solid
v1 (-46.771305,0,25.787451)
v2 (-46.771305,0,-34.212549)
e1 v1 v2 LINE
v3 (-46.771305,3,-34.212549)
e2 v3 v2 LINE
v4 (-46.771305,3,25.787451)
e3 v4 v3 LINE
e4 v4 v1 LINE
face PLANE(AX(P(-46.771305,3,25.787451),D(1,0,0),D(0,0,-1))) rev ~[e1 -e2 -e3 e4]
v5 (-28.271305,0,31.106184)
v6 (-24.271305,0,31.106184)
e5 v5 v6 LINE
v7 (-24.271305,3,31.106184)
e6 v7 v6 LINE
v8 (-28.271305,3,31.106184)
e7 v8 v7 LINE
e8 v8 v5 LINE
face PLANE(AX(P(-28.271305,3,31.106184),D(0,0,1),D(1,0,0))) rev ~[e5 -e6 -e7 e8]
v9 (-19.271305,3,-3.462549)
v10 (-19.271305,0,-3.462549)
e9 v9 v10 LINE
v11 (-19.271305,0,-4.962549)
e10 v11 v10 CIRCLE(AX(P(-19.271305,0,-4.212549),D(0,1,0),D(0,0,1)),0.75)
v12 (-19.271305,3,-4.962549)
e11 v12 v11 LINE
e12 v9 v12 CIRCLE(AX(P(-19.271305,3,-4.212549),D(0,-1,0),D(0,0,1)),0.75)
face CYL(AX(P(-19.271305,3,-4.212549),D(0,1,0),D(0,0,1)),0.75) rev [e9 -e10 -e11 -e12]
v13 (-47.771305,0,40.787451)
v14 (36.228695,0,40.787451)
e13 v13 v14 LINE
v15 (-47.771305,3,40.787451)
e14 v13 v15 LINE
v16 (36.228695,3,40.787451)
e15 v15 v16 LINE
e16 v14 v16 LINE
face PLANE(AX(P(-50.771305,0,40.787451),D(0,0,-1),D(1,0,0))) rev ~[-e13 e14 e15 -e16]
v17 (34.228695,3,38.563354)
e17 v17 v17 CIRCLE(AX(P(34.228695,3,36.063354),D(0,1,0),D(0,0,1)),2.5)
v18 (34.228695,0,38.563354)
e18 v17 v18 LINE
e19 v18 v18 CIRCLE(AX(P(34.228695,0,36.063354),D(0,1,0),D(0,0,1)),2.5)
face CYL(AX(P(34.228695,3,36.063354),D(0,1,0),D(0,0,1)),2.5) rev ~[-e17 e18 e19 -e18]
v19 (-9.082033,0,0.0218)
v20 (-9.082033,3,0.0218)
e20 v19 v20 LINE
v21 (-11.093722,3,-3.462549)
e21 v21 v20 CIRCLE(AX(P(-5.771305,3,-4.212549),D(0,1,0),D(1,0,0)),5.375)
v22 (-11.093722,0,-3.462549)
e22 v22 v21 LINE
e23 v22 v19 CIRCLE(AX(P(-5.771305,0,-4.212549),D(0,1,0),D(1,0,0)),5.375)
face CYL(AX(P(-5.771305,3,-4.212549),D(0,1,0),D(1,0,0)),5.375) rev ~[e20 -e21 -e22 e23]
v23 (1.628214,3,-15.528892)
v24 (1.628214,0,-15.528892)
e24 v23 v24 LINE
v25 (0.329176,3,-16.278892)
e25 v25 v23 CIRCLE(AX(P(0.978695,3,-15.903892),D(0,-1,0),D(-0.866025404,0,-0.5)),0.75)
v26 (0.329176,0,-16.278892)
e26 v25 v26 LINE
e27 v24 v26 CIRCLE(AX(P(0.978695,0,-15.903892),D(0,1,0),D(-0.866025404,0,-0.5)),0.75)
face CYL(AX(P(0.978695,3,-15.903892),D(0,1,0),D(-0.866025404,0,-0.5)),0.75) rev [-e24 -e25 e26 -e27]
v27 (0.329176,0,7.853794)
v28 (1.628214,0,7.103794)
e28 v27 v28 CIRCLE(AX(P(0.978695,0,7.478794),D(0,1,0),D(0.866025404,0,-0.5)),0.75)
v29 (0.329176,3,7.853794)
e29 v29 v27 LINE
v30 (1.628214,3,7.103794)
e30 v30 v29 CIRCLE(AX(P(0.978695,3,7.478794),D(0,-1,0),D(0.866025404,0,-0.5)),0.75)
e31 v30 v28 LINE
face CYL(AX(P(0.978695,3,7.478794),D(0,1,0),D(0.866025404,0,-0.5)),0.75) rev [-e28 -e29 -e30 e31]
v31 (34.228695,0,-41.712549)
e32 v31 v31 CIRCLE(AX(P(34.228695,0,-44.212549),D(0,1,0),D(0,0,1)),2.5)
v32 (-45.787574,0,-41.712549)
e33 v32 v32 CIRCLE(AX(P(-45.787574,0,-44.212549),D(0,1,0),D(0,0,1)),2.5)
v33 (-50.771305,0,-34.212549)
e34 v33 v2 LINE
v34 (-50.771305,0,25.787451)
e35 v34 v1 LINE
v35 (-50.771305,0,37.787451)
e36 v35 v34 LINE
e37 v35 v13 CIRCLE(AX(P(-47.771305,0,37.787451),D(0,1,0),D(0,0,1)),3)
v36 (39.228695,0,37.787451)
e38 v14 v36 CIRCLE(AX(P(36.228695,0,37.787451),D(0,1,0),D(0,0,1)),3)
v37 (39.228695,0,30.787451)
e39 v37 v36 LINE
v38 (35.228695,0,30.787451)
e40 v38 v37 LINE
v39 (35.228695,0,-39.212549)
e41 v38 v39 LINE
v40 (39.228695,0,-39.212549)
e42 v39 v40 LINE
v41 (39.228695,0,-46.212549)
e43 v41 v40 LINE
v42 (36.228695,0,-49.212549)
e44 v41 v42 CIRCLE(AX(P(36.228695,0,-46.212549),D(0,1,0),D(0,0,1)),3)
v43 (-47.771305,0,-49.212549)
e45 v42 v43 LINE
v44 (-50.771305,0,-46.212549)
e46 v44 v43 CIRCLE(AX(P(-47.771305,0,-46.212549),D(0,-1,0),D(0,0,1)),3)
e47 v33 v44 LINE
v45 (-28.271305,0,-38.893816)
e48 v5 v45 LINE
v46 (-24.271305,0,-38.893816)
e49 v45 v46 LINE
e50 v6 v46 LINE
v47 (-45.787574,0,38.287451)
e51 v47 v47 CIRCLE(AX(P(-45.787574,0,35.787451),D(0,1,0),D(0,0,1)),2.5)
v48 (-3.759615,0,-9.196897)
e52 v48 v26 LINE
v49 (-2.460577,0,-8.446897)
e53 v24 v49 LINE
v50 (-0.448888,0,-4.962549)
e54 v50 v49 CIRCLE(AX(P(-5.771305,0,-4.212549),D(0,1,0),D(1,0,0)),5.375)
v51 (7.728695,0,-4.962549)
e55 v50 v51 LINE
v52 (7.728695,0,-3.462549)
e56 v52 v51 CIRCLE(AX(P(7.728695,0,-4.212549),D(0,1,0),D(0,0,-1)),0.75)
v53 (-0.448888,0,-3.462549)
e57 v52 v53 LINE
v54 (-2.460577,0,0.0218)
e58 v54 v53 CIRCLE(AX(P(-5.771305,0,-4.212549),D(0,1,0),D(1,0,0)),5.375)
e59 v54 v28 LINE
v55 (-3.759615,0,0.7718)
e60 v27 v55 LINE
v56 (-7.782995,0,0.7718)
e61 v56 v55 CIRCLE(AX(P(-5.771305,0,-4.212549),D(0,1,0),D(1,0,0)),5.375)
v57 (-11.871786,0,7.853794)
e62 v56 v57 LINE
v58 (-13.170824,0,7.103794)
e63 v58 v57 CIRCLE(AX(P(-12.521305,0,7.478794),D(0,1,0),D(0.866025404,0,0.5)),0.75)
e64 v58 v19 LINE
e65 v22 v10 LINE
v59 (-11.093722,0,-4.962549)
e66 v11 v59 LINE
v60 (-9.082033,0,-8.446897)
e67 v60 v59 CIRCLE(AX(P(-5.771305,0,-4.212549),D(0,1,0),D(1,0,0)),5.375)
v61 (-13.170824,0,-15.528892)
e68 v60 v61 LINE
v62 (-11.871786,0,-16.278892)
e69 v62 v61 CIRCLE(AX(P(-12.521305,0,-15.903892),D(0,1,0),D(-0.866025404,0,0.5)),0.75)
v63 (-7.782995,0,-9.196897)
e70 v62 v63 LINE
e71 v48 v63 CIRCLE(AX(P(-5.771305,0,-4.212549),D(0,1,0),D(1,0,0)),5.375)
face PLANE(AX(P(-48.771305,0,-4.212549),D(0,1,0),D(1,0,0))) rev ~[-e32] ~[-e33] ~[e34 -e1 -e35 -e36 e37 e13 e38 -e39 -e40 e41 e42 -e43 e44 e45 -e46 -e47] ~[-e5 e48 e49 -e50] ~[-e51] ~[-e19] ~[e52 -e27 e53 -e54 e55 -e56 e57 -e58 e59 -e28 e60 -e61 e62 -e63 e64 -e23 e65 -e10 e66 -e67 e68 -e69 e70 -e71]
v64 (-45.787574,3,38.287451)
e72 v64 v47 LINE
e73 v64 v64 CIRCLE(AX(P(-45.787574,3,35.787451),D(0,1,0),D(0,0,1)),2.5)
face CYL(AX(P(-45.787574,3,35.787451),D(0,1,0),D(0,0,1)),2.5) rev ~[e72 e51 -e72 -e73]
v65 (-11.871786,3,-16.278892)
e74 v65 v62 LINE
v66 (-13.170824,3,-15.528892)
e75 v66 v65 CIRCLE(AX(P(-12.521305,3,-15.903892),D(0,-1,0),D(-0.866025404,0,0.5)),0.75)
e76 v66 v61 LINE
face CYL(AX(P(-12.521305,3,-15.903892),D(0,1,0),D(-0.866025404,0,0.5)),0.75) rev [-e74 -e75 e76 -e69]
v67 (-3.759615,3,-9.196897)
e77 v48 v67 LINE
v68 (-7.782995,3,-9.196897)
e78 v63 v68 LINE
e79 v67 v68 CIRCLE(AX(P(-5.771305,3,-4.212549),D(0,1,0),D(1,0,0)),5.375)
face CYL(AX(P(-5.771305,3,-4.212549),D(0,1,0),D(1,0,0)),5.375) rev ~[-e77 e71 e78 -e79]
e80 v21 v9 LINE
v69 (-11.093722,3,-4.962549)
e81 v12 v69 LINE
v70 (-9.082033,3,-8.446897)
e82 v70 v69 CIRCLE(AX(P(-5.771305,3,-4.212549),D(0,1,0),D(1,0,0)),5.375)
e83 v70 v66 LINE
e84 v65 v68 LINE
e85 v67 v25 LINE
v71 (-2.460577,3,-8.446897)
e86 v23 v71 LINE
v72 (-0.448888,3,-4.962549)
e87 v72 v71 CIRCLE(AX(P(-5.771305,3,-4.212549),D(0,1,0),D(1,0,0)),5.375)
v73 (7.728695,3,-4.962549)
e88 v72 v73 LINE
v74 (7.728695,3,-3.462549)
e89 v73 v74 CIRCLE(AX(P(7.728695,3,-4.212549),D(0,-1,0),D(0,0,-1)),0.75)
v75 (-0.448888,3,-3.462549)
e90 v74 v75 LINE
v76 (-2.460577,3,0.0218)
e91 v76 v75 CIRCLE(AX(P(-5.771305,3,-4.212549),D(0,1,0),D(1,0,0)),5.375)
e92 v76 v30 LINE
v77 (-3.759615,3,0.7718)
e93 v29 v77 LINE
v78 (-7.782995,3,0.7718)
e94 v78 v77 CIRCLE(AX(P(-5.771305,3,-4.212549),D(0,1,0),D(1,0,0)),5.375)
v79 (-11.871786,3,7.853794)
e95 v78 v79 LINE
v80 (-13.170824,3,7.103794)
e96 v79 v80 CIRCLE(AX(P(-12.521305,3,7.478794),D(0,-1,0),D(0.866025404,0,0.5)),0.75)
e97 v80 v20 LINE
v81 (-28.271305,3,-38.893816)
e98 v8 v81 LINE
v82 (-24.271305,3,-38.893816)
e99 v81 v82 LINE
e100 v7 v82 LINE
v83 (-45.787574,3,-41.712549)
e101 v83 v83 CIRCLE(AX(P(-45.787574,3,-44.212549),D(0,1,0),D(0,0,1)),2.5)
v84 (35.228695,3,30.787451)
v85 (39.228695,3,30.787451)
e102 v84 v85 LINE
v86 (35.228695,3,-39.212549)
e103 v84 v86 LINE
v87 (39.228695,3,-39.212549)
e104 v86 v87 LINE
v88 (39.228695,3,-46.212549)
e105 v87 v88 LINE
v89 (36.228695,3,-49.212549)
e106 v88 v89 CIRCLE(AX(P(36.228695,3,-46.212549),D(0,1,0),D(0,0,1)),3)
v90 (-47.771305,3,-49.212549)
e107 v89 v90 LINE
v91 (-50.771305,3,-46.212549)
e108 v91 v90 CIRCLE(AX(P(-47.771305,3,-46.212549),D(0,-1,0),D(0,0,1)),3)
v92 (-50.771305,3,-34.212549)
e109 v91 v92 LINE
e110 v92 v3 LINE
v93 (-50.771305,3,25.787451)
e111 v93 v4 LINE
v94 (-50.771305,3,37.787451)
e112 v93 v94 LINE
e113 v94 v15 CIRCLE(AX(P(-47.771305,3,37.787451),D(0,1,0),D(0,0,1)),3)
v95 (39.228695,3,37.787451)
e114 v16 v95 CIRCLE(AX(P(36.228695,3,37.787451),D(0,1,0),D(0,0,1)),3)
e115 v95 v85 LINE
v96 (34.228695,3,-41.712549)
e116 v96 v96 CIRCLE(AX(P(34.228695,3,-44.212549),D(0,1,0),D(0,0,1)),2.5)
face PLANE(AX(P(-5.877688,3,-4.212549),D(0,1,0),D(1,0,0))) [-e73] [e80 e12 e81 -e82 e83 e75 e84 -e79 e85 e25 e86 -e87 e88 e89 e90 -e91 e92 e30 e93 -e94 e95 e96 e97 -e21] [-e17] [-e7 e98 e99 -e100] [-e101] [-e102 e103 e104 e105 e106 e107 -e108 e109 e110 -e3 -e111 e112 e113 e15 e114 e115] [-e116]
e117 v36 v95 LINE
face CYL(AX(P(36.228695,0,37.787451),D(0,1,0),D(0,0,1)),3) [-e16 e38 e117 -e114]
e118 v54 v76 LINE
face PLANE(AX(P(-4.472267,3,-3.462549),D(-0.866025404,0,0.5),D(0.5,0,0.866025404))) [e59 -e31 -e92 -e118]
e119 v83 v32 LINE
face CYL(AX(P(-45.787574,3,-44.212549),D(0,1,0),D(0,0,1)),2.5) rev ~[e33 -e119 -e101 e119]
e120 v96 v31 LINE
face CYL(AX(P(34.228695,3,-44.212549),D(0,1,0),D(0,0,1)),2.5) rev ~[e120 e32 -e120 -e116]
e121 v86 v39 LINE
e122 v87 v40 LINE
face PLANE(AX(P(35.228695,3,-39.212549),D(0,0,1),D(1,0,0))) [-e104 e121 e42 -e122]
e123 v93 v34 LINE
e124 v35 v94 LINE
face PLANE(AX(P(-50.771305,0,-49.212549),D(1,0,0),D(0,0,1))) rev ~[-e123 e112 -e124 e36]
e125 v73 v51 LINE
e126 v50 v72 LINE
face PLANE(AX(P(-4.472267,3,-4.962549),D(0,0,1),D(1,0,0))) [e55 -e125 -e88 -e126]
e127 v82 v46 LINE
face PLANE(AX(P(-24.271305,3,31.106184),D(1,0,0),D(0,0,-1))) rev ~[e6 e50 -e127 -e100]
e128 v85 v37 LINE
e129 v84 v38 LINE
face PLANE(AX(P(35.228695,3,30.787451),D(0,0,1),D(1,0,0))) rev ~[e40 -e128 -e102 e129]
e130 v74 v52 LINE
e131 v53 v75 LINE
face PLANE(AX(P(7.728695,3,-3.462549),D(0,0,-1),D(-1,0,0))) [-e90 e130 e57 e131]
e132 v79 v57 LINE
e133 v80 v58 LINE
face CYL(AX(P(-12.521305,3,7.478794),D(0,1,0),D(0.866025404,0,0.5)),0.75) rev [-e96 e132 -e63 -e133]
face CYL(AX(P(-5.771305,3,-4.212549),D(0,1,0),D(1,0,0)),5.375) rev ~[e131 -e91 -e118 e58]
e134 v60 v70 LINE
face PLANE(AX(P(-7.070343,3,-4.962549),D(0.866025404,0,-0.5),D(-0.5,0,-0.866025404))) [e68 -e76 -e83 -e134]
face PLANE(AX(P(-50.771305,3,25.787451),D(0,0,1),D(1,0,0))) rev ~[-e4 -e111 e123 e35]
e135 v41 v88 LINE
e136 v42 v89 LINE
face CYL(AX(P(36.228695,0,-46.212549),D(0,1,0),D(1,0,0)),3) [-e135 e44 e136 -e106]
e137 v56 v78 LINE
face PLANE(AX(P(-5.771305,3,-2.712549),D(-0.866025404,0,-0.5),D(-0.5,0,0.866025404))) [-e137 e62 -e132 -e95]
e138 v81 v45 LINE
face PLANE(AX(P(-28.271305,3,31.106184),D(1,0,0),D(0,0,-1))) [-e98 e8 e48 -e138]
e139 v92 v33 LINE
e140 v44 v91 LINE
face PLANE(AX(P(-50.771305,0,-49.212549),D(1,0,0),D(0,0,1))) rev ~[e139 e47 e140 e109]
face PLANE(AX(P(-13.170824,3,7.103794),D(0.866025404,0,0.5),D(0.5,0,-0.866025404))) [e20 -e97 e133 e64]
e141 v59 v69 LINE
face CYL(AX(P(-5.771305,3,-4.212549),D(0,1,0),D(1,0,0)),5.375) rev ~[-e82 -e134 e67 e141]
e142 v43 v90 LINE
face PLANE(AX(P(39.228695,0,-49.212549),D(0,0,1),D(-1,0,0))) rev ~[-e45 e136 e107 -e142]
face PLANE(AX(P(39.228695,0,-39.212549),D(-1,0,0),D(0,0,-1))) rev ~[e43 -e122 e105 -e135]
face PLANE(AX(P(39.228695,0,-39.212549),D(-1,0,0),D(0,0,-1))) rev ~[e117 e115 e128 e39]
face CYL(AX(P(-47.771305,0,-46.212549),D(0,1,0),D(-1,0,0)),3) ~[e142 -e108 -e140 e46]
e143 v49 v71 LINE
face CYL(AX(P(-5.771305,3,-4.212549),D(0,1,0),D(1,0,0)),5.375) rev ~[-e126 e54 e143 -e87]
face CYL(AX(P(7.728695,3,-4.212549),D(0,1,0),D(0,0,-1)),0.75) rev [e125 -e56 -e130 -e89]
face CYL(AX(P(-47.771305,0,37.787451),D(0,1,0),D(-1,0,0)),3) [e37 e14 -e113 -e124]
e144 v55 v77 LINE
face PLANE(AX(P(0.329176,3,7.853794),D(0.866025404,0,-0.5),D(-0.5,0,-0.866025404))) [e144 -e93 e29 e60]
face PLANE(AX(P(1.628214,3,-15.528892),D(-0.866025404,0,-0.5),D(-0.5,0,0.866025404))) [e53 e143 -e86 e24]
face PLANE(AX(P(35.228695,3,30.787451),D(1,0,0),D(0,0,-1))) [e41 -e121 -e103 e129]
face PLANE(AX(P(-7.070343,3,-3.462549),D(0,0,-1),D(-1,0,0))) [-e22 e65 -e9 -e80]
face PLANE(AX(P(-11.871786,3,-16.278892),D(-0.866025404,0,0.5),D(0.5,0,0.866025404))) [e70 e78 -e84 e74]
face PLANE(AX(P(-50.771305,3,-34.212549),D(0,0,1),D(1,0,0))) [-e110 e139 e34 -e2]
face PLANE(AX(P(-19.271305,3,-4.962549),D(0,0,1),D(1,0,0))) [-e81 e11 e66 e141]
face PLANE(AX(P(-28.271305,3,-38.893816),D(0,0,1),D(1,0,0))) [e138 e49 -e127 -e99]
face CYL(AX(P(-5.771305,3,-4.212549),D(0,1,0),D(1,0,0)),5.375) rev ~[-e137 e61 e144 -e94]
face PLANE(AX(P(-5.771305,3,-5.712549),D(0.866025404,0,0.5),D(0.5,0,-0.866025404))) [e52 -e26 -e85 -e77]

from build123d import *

# Parameters (mm, degrees)
SKETCH1_W           = 4
SKETCH1_H           = 70
SKETCH1_H_2         = 60
BOSS_EXTRUDE1_DEPTH = 3
SKETCH1_3_W         = 4
SKETCH1_3_H         = 60
SKETCH1_3_H_2       = 70
BOSS_EXTRUDE2_DEPTH = 70
SKETCH1_4_W         = 4
SKETCH1_4_H         = 70
BOSS_EXTRUDE3_DEPTH = 70
SKETCH5_R           = 4
CUT_EXTRUDE4_DEPTH  = 10
SKETCH6_R           = 2.5
CUT_EXTRUDE5_DEPTH  = 10
SKETCH1_5_W         = 4
SKETCH1_5_H         = 60
BOSS_EXTRUDE4_DEPTH = 80
SKETCH5_2_R         = 4
CUT_EXTRUDE6_DEPTH  = 10
FILLET1_R           = 3
FILLET2_R           = 5
FILLET3_R           = 4
SKETCH7_R           = 2.5
CUT_EXTRUDE7_DEPTH  = 10
SKETCH8_R           = 2.5
CUT_EXTRUDE8_DEPTH  = 10
CUT_EXTRUDE9_REACH  = 132.084
SKETCH9_R           = 3.5
SKETCH26_R          = 2.5
CUT_EXTRUDE11_DEPTH = 10
CUT_EXTRUDE14_DEPTH = 10
CUT_EXTRUDE15_DEPTH = 10
SKETCH28_R          = 1
SKETCH28_R_2        = 4
CUT_EXTRUDE16_DEPTH = 4
SKETCH29_R          = 1
SKETCH29_R_2        = 3.5
CUT_EXTRUDE18_DEPTH = 4
SKETCH31_R          = 5.375
CUT_EXTRUDE19_DEPTH = 10
SKETCH32_W          = 71.641660037
SKETCH32_H          = 79.51751689
CUT_EXTRUDE20_DEPTH = 131.084107183
SKETCH33_W          = 4
SKETCH33_H          = 70
SKETCH33_H_2        = 60
CUT_EXTRUDE21_DEPTH = 71.771465692


with BuildPart() as part:
    # Sketch1 → Boss-Extrude1 (new body)
    # profile 1 of 4: a face of its own
    with BuildSketch(Plane(origin=(0, 0, 0), x_dir=(1, 0, 0), z_dir=(0, 1, 0))):
        Polygon((-50.771305032, 49.212548619), (-50.771305032, 34.212548619), (-46.771305032, 34.212548619), (-46.771305032, -25.787451381), (-50.771305032, -25.787451381), (-50.771305032, -40.787451381), (39.228694968, -40.787451381), (39.228694968, -30.787451381), (35.228694968, -30.787451381), (35.228694968, 39.212548619), (39.228694968, 39.212548619), (39.228694968, 49.212548619), align=None)
        with Locations((-26.271305032, 3.893815937)):
            Rectangle(SKETCH1_W, SKETCH1_H, mode=Mode.SUBTRACT)
    # profile 2 of 4: a face of its own
    with BuildSketch(Plane(origin=(0, 0, 0), x_dir=(1, 0, 0), z_dir=(0, 1, 0))):
        with Locations((37.228694968, 4.212548619)):
            Rectangle(SKETCH1_W, SKETCH1_H)
    # profile 3 of 4: a face of its own
    with BuildSketch(Plane(origin=(0, 0, 0), x_dir=(1, 0, 0), z_dir=(0, 1, 0))):
        with Locations((-48.771305032, 4.212548619)):
            Rectangle(SKETCH1_W, SKETCH1_H_2)
    # profile 4 of 4: a face of its own
    with BuildSketch(Plane(origin=(0, 0, 0), x_dir=(1, 0, 0), z_dir=(0, 1, 0))):
        with Locations((-26.271305032, 3.893815937)):
            Rectangle(SKETCH1_W, SKETCH1_H)
    extrude(amount=BOSS_EXTRUDE1_DEPTH)

    # Sketch1<3> → Boss-Extrude2 (add)
    with BuildSketch(Plane(origin=(0, 0, 0), x_dir=(1, 0, 0), z_dir=(0, 1, 0))):
        with Locations((-48.771305032, 4.212548619)):
            Rectangle(SKETCH1_3_W, SKETCH1_3_H)
        with Locations((37.228694968, 4.212548619)):
            Rectangle(SKETCH1_3_W, SKETCH1_3_H_2)
    extrude(amount=BOSS_EXTRUDE2_DEPTH)

    # Sketch1<4> → Boss-Extrude3 (add)
    with BuildSketch(Plane(origin=(0, 0, 0), x_dir=(1, 0, 0), z_dir=(0, 1, 0))):
        with Locations((-26.271305032, 3.893815937)):
            Rectangle(SKETCH1_4_W, SKETCH1_4_H)
    extrude(amount=BOSS_EXTRUDE3_DEPTH)

    # Sketch5 → Cut-Extrude4 (cut)
    with BuildSketch(Plane.ZY.offset(50.771305032)):
        with Locations((-8.022548619, 60)):
            Circle(SKETCH5_R)
    extrude(amount=-CUT_EXTRUDE4_DEPTH, mode=Mode.SUBTRACT)

    # Sketch6 → Cut-Extrude5 (cut)
    with BuildSketch(Plane(origin=(0, 3, 0), x_dir=(1, 0, 0), z_dir=(0, 1, 0))):
        with Locations(Location((-45.787574368, -35.787451381, 0), (0, 0, 270))):
            Circle(SKETCH6_R)
        with Locations(Location((-45.787574368, 44.212548619, 0), (0, 0, 270))):
            Circle(SKETCH6_R)
        with Locations((43.718511914, 44.212548619)):
            Circle(SKETCH6_R)
        with Locations((43.718511914, -35.787451381)):
            Circle(SKETCH6_R)
    extrude(amount=-CUT_EXTRUDE5_DEPTH, mode=Mode.SUBTRACT)

    # Sketch1<5> → Boss-Extrude4 (add)
    with BuildSketch(Plane(origin=(0, 0, 0), x_dir=(1, 0, 0), z_dir=(0, 1, 0))):
        with Locations((-48.771305032, 4.212548619)):
            Rectangle(SKETCH1_5_W, SKETCH1_5_H)
    extrude(amount=BOSS_EXTRUDE4_DEPTH)

    # Sketch5<2> → Cut-Extrude6 (cut)
    with BuildSketch(Plane.ZY.offset(50.771305032)):
        with Locations((-8.022548619, 60)):
            Circle(SKETCH5_2_R)
    extrude(amount=-CUT_EXTRUDE6_DEPTH, mode=Mode.SUBTRACT)

    # Fillet1
    fillet1_edges = [part.edges().sort_by_distance(p)[0] for p in [
        (-50.771305032, 1.5, 40.787451381),
        (-50.771305032, 1.5, -49.212548619),
        (39.228694968, 1.5, -49.212548619),
        (39.228694968, 1.5, 40.787451381),
    ]]
    fillet(fillet1_edges, radius=FILLET1_R)

    # Fillet2
    fillet2_edges = [part.edges().sort_by_distance(p)[0] for p in [
        (-48.771305032, 80, -34.212548619),
        (-48.771305032, 80, 25.787451381),
        (37.228694968, 70, -39.212548619),
        (37.228694968, 70, 30.787451381),
    ]]
    fillet(fillet2_edges, radius=FILLET2_R)

    # Fillet3
    fillet3_edges = [part.edges().sort_by_distance(p)[0] for p in [
        (-26.271305032, 70, 31.106184063),
        (-26.271305032, 70, -38.893815937),
    ]]
    fillet(fillet3_edges, radius=FILLET3_R)

    # Sketch7 → Cut-Extrude7 (cut)
    with BuildSketch(Plane(origin=(39.228694968, 0, 0), x_dir=(0, 0, -1), z_dir=(1, 0, 0))):
        with Locations((27.482306935, -10)):
            Circle(SKETCH7_R)
    extrude(amount=-CUT_EXTRUDE7_DEPTH, mode=Mode.SUBTRACT)

    # Sketch8 → Cut-Extrude8 (cut)
    with BuildSketch(Plane(origin=(39.228694968, 0, 0), x_dir=(0, 0, -1), z_dir=(1, 0, 0))):
        with Locations((8.02072759, 38.893893193)):
            Circle(SKETCH8_R)
    extrude(amount=-CUT_EXTRUDE8_DEPTH, mode=Mode.SUBTRACT)

    # Cut-Extrude9: up to this face of the body (flat: up to its plane)
    cut_extrude9_end = Plane(part.part.faces().sort_by_distance((-28.271305032, 36.452186393, -3.893815937))[0])
    # Sketch9 → Cut-Extrude9 (cut, up to the picked face)
    with BuildSketch(Plane(origin=(39.228694968, 0, 0), x_dir=(0, 0, -1), z_dir=(1, 0, 0)), mode=Mode.PRIVATE) as cut_extrude9_sk1:
        with Locations((8.02072759, 38.893893193)):
            Circle(SKETCH9_R)
    cut_extrude9_tool1 = split(extrude(cut_extrude9_sk1.sketch, amount=-CUT_EXTRUDE9_REACH, mode=Mode.PRIVATE), bisect_by=cut_extrude9_end, keep=Keep.BOTH, mode=Mode.PRIVATE)
    add(cut_extrude9_tool1.solids().sort_by(Axis((39.228695, 38.893893, -8.020728), (-1, 0, 0)))[0], mode=Mode.SUBTRACT)

    # Sketch26 → Cut-Extrude11 (cut)
    with BuildSketch(Plane(origin=(0, 3, 0), x_dir=(1, 0, 0), z_dir=(0, 1, 0))):
        with Locations(Location((34.228694968, -36.063353705, 0), (0, 0, 270))):
            Circle(SKETCH26_R)
        with Locations(Location((34.228694968, 44.212548619, 0), (0, 0, 270))):
            Circle(SKETCH26_R)
    extrude(amount=-CUT_EXTRUDE11_DEPTH, mode=Mode.SUBTRACT)

    # Sketch27 → Cut-Extrude14 (cut)
    with BuildSketch(Plane(origin=(0, 3, 0), x_dir=(1, 0, 0), z_dir=(0, 1, 0))):
        with BuildLine():
            Line((7.728694968, 3.462548619), (-19.271305032, 3.462548619))
            ThreePointArc((-19.271305032, 3.462548619), (-20.021305032, 4.212548619), (-19.271305032, 4.962548619))
            Line((-19.271305032, 4.962548619), (7.728694968, 4.962548619))
            ThreePointArc((7.728694968, 4.962548619), (8.478694968, 4.212548619), (7.728694968, 3.462548619))
        make_face()
        with BuildLine():
            Line((0.329175915, -7.853794332), (-13.170824085, 15.52889157))
            ThreePointArc((-13.170824085, 15.52889157), (-12.896305032, 16.553410623), (-11.871785979, 16.27889157))
            Line((-11.871785979, 16.27889157), (1.628214021, -7.103794332))
            ThreePointArc((1.628214021, -7.103794332), (1.353694968, -8.128313385), (0.329175915, -7.853794332))
        make_face()
        with BuildLine():
            Line((-13.170824085, -7.103794332), (0.329175915, 16.27889157))
            ThreePointArc((0.329175915, 16.27889157), (1.353694968, 16.553410623), (1.628214021, 15.52889157))
            Line((1.628214021, 15.52889157), (-11.871785979, -7.853794332))
            ThreePointArc((-11.871785979, -7.853794332), (-12.896305032, -8.128313385), (-13.170824085, -7.103794332))
        make_face()
    extrude(amount=-CUT_EXTRUDE14_DEPTH, mode=Mode.SUBTRACT)

    # Sketch27<7> → Cut-Extrude15 (cut)
    with BuildSketch(Plane(origin=(0, 3, 0), x_dir=(1, 0, 0), z_dir=(0, 1, 0))):
        with BuildLine():
            Line((-7.743699741, 2.296260771), (-7.070343138, 3.462548619))
            Line((-7.070343138, 3.462548619), (-8.417056343, 3.462548619))
            ThreePointArc((-8.417056343, 3.462548619), (-8.152874893, 2.837548619), (-7.743699741, 2.296260771))
        make_face()
        with BuildLine():
            Line((-8.417056343, 4.962548619), (-7.070343138, 4.962548619))
            Line((-7.070343138, 4.962548619), (-7.743699741, 6.128836466))
            ThreePointArc((-7.743699741, 6.128836466), (-8.152874893, 5.587548619), (-8.417056343, 4.962548619))
        make_face()
        with BuildLine():
            Line((-5.771305032, 5.712548619), (-5.09794843, 6.878836466))
            ThreePointArc((-5.09794843, 6.878836466), (-5.771305032, 6.962548619), (-6.444661635, 6.878836466))
            Line((-6.444661635, 6.878836466), (-5.771305032, 5.712548619))
        make_face()
        with BuildLine():
            Line((-4.472266927, 4.962548619), (-3.125553721, 4.962548619))
            ThreePointArc((-3.125553721, 4.962548619), (-3.389735172, 5.587548619), (-3.798910324, 6.128836466))
            Line((-3.798910324, 6.128836466), (-4.472266927, 4.962548619))
        make_face()
        with BuildLine():
            ThreePointArc((-3.798910324, 2.296260771), (-3.389735172, 2.837548619), (-3.125553721, 3.462548619))
            Line((-3.125553721, 3.462548619), (-4.472266927, 3.462548619))
            Line((-4.472266927, 3.462548619), (-3.798910324, 2.296260771))
        make_face()
        with BuildLine():
            ThreePointArc((-6.444661635, 1.546260771), (-5.771305032, 1.462548619), (-5.09794843, 1.546260771))
            Line((-5.09794843, 1.546260771), (-5.771305032, 2.712548619))
            Line((-5.771305032, 2.712548619), (-6.444661635, 1.546260771))
        make_face()
    extrude(amount=-CUT_EXTRUDE15_DEPTH, mode=Mode.SUBTRACT)

    # Sketch28 → Cut-Extrude16 (cut)
    # profile 1 of 3: a face of its own
    with BuildSketch(Plane.ZY.offset(50.771305032)):
        with Locations((-2.316893756, 66.434710762)):
            Circle(SKETCH28_R)
    # profile 2 of 3: a face of its own
    with BuildSketch(Plane.ZY.offset(50.771305032)):
        with Locations((-20.69441, 45.708956331)):
            Circle(SKETCH28_R)
    # profile 3 of 3: a face of its own
    with BuildSketch(Plane.ZY.offset(50.771305032)):
        Polygon((-23.458777666, 51.635023443), (-8.531192269, 68.470022529), (0.44747391, 60.508643651), (-14.480111487, 43.673644564), align=None)
        with Locations((-8.022548619, 60)):
            Circle(SKETCH28_R_2, mode=Mode.SUBTRACT)
    extrude(amount=-CUT_EXTRUDE16_DEPTH, mode=Mode.SUBTRACT)

    # Sketch29 → Cut-Extrude18 (cut)
    # profile 1 of 3: a face of its own
    with BuildSketch(Plane(origin=(39.228694968, 0, 0), x_dir=(0, 0, -1), z_dir=(1, 0, 0))):
        with Locations((2.315072727, 45.328603955)):
            Circle(SKETCH29_R)
    # profile 2 of 3: a face of its own
    with BuildSketch(Plane(origin=(39.228694968, 0, 0), x_dir=(0, 0, -1), z_dir=(1, 0, 0))):
        with Locations((20.692588971, 24.602849525)):
            Circle(SKETCH29_R)
    # profile 3 of 3: a face of its own
    with BuildSketch(Plane(origin=(39.228694968, 0, 0), x_dir=(0, 0, -1), z_dir=(1, 0, 0))):
        Polygon((8.529371241, 47.363915722), (23.456956637, 30.528916636), (14.478290458, 22.567537758), (-0.449294939, 39.402536844), align=None)
        with Locations((8.02072759, 38.893893193)):
            Circle(SKETCH29_R_2, mode=Mode.SUBTRACT)
    extrude(amount=-CUT_EXTRUDE18_DEPTH, mode=Mode.SUBTRACT)

    # Sketch31 → Cut-Extrude19 (cut)
    with BuildSketch(Plane(origin=(0, 3, 0), x_dir=(1, 0, 0), z_dir=(0, 1, 0))):
        with Locations((-5.771305032, 4.212548619)):
            Circle(SKETCH31_R)
    extrude(amount=-CUT_EXTRUDE19_DEPTH, mode=Mode.SUBTRACT)

    # Sketch32 → Cut-Extrude20 (cut, through all)
    with BuildSketch(Plane(origin=(39.228694968, 0, 0), x_dir=(0, 0, -1), z_dir=(1, 0, 0))):
        with Locations((4.714645955, 42.758758445)):
            Rectangle(SKETCH32_W, SKETCH32_H)
    extrude(amount=-CUT_EXTRUDE20_DEPTH, mode=Mode.SUBTRACT)

    # Sketch33 → Cut-Extrude21 (cut, through all)
    with BuildSketch(Plane(origin=(0, 3, 0), x_dir=(1, 0, 0), z_dir=(0, 1, 0))):
        with Locations((-26.271305032, 3.893815937)):
            Rectangle(SKETCH33_W, SKETCH33_H)
        with Locations((-48.771305032, 4.212548619)):
            Rectangle(SKETCH33_W, SKETCH33_H_2)
        with Locations((37.228694968, 4.212548619)):
            Rectangle(SKETCH33_W, SKETCH33_H)
    extrude(amount=-CUT_EXTRUDE21_DEPTH, mode=Mode.SUBTRACT)


solid = part.part
